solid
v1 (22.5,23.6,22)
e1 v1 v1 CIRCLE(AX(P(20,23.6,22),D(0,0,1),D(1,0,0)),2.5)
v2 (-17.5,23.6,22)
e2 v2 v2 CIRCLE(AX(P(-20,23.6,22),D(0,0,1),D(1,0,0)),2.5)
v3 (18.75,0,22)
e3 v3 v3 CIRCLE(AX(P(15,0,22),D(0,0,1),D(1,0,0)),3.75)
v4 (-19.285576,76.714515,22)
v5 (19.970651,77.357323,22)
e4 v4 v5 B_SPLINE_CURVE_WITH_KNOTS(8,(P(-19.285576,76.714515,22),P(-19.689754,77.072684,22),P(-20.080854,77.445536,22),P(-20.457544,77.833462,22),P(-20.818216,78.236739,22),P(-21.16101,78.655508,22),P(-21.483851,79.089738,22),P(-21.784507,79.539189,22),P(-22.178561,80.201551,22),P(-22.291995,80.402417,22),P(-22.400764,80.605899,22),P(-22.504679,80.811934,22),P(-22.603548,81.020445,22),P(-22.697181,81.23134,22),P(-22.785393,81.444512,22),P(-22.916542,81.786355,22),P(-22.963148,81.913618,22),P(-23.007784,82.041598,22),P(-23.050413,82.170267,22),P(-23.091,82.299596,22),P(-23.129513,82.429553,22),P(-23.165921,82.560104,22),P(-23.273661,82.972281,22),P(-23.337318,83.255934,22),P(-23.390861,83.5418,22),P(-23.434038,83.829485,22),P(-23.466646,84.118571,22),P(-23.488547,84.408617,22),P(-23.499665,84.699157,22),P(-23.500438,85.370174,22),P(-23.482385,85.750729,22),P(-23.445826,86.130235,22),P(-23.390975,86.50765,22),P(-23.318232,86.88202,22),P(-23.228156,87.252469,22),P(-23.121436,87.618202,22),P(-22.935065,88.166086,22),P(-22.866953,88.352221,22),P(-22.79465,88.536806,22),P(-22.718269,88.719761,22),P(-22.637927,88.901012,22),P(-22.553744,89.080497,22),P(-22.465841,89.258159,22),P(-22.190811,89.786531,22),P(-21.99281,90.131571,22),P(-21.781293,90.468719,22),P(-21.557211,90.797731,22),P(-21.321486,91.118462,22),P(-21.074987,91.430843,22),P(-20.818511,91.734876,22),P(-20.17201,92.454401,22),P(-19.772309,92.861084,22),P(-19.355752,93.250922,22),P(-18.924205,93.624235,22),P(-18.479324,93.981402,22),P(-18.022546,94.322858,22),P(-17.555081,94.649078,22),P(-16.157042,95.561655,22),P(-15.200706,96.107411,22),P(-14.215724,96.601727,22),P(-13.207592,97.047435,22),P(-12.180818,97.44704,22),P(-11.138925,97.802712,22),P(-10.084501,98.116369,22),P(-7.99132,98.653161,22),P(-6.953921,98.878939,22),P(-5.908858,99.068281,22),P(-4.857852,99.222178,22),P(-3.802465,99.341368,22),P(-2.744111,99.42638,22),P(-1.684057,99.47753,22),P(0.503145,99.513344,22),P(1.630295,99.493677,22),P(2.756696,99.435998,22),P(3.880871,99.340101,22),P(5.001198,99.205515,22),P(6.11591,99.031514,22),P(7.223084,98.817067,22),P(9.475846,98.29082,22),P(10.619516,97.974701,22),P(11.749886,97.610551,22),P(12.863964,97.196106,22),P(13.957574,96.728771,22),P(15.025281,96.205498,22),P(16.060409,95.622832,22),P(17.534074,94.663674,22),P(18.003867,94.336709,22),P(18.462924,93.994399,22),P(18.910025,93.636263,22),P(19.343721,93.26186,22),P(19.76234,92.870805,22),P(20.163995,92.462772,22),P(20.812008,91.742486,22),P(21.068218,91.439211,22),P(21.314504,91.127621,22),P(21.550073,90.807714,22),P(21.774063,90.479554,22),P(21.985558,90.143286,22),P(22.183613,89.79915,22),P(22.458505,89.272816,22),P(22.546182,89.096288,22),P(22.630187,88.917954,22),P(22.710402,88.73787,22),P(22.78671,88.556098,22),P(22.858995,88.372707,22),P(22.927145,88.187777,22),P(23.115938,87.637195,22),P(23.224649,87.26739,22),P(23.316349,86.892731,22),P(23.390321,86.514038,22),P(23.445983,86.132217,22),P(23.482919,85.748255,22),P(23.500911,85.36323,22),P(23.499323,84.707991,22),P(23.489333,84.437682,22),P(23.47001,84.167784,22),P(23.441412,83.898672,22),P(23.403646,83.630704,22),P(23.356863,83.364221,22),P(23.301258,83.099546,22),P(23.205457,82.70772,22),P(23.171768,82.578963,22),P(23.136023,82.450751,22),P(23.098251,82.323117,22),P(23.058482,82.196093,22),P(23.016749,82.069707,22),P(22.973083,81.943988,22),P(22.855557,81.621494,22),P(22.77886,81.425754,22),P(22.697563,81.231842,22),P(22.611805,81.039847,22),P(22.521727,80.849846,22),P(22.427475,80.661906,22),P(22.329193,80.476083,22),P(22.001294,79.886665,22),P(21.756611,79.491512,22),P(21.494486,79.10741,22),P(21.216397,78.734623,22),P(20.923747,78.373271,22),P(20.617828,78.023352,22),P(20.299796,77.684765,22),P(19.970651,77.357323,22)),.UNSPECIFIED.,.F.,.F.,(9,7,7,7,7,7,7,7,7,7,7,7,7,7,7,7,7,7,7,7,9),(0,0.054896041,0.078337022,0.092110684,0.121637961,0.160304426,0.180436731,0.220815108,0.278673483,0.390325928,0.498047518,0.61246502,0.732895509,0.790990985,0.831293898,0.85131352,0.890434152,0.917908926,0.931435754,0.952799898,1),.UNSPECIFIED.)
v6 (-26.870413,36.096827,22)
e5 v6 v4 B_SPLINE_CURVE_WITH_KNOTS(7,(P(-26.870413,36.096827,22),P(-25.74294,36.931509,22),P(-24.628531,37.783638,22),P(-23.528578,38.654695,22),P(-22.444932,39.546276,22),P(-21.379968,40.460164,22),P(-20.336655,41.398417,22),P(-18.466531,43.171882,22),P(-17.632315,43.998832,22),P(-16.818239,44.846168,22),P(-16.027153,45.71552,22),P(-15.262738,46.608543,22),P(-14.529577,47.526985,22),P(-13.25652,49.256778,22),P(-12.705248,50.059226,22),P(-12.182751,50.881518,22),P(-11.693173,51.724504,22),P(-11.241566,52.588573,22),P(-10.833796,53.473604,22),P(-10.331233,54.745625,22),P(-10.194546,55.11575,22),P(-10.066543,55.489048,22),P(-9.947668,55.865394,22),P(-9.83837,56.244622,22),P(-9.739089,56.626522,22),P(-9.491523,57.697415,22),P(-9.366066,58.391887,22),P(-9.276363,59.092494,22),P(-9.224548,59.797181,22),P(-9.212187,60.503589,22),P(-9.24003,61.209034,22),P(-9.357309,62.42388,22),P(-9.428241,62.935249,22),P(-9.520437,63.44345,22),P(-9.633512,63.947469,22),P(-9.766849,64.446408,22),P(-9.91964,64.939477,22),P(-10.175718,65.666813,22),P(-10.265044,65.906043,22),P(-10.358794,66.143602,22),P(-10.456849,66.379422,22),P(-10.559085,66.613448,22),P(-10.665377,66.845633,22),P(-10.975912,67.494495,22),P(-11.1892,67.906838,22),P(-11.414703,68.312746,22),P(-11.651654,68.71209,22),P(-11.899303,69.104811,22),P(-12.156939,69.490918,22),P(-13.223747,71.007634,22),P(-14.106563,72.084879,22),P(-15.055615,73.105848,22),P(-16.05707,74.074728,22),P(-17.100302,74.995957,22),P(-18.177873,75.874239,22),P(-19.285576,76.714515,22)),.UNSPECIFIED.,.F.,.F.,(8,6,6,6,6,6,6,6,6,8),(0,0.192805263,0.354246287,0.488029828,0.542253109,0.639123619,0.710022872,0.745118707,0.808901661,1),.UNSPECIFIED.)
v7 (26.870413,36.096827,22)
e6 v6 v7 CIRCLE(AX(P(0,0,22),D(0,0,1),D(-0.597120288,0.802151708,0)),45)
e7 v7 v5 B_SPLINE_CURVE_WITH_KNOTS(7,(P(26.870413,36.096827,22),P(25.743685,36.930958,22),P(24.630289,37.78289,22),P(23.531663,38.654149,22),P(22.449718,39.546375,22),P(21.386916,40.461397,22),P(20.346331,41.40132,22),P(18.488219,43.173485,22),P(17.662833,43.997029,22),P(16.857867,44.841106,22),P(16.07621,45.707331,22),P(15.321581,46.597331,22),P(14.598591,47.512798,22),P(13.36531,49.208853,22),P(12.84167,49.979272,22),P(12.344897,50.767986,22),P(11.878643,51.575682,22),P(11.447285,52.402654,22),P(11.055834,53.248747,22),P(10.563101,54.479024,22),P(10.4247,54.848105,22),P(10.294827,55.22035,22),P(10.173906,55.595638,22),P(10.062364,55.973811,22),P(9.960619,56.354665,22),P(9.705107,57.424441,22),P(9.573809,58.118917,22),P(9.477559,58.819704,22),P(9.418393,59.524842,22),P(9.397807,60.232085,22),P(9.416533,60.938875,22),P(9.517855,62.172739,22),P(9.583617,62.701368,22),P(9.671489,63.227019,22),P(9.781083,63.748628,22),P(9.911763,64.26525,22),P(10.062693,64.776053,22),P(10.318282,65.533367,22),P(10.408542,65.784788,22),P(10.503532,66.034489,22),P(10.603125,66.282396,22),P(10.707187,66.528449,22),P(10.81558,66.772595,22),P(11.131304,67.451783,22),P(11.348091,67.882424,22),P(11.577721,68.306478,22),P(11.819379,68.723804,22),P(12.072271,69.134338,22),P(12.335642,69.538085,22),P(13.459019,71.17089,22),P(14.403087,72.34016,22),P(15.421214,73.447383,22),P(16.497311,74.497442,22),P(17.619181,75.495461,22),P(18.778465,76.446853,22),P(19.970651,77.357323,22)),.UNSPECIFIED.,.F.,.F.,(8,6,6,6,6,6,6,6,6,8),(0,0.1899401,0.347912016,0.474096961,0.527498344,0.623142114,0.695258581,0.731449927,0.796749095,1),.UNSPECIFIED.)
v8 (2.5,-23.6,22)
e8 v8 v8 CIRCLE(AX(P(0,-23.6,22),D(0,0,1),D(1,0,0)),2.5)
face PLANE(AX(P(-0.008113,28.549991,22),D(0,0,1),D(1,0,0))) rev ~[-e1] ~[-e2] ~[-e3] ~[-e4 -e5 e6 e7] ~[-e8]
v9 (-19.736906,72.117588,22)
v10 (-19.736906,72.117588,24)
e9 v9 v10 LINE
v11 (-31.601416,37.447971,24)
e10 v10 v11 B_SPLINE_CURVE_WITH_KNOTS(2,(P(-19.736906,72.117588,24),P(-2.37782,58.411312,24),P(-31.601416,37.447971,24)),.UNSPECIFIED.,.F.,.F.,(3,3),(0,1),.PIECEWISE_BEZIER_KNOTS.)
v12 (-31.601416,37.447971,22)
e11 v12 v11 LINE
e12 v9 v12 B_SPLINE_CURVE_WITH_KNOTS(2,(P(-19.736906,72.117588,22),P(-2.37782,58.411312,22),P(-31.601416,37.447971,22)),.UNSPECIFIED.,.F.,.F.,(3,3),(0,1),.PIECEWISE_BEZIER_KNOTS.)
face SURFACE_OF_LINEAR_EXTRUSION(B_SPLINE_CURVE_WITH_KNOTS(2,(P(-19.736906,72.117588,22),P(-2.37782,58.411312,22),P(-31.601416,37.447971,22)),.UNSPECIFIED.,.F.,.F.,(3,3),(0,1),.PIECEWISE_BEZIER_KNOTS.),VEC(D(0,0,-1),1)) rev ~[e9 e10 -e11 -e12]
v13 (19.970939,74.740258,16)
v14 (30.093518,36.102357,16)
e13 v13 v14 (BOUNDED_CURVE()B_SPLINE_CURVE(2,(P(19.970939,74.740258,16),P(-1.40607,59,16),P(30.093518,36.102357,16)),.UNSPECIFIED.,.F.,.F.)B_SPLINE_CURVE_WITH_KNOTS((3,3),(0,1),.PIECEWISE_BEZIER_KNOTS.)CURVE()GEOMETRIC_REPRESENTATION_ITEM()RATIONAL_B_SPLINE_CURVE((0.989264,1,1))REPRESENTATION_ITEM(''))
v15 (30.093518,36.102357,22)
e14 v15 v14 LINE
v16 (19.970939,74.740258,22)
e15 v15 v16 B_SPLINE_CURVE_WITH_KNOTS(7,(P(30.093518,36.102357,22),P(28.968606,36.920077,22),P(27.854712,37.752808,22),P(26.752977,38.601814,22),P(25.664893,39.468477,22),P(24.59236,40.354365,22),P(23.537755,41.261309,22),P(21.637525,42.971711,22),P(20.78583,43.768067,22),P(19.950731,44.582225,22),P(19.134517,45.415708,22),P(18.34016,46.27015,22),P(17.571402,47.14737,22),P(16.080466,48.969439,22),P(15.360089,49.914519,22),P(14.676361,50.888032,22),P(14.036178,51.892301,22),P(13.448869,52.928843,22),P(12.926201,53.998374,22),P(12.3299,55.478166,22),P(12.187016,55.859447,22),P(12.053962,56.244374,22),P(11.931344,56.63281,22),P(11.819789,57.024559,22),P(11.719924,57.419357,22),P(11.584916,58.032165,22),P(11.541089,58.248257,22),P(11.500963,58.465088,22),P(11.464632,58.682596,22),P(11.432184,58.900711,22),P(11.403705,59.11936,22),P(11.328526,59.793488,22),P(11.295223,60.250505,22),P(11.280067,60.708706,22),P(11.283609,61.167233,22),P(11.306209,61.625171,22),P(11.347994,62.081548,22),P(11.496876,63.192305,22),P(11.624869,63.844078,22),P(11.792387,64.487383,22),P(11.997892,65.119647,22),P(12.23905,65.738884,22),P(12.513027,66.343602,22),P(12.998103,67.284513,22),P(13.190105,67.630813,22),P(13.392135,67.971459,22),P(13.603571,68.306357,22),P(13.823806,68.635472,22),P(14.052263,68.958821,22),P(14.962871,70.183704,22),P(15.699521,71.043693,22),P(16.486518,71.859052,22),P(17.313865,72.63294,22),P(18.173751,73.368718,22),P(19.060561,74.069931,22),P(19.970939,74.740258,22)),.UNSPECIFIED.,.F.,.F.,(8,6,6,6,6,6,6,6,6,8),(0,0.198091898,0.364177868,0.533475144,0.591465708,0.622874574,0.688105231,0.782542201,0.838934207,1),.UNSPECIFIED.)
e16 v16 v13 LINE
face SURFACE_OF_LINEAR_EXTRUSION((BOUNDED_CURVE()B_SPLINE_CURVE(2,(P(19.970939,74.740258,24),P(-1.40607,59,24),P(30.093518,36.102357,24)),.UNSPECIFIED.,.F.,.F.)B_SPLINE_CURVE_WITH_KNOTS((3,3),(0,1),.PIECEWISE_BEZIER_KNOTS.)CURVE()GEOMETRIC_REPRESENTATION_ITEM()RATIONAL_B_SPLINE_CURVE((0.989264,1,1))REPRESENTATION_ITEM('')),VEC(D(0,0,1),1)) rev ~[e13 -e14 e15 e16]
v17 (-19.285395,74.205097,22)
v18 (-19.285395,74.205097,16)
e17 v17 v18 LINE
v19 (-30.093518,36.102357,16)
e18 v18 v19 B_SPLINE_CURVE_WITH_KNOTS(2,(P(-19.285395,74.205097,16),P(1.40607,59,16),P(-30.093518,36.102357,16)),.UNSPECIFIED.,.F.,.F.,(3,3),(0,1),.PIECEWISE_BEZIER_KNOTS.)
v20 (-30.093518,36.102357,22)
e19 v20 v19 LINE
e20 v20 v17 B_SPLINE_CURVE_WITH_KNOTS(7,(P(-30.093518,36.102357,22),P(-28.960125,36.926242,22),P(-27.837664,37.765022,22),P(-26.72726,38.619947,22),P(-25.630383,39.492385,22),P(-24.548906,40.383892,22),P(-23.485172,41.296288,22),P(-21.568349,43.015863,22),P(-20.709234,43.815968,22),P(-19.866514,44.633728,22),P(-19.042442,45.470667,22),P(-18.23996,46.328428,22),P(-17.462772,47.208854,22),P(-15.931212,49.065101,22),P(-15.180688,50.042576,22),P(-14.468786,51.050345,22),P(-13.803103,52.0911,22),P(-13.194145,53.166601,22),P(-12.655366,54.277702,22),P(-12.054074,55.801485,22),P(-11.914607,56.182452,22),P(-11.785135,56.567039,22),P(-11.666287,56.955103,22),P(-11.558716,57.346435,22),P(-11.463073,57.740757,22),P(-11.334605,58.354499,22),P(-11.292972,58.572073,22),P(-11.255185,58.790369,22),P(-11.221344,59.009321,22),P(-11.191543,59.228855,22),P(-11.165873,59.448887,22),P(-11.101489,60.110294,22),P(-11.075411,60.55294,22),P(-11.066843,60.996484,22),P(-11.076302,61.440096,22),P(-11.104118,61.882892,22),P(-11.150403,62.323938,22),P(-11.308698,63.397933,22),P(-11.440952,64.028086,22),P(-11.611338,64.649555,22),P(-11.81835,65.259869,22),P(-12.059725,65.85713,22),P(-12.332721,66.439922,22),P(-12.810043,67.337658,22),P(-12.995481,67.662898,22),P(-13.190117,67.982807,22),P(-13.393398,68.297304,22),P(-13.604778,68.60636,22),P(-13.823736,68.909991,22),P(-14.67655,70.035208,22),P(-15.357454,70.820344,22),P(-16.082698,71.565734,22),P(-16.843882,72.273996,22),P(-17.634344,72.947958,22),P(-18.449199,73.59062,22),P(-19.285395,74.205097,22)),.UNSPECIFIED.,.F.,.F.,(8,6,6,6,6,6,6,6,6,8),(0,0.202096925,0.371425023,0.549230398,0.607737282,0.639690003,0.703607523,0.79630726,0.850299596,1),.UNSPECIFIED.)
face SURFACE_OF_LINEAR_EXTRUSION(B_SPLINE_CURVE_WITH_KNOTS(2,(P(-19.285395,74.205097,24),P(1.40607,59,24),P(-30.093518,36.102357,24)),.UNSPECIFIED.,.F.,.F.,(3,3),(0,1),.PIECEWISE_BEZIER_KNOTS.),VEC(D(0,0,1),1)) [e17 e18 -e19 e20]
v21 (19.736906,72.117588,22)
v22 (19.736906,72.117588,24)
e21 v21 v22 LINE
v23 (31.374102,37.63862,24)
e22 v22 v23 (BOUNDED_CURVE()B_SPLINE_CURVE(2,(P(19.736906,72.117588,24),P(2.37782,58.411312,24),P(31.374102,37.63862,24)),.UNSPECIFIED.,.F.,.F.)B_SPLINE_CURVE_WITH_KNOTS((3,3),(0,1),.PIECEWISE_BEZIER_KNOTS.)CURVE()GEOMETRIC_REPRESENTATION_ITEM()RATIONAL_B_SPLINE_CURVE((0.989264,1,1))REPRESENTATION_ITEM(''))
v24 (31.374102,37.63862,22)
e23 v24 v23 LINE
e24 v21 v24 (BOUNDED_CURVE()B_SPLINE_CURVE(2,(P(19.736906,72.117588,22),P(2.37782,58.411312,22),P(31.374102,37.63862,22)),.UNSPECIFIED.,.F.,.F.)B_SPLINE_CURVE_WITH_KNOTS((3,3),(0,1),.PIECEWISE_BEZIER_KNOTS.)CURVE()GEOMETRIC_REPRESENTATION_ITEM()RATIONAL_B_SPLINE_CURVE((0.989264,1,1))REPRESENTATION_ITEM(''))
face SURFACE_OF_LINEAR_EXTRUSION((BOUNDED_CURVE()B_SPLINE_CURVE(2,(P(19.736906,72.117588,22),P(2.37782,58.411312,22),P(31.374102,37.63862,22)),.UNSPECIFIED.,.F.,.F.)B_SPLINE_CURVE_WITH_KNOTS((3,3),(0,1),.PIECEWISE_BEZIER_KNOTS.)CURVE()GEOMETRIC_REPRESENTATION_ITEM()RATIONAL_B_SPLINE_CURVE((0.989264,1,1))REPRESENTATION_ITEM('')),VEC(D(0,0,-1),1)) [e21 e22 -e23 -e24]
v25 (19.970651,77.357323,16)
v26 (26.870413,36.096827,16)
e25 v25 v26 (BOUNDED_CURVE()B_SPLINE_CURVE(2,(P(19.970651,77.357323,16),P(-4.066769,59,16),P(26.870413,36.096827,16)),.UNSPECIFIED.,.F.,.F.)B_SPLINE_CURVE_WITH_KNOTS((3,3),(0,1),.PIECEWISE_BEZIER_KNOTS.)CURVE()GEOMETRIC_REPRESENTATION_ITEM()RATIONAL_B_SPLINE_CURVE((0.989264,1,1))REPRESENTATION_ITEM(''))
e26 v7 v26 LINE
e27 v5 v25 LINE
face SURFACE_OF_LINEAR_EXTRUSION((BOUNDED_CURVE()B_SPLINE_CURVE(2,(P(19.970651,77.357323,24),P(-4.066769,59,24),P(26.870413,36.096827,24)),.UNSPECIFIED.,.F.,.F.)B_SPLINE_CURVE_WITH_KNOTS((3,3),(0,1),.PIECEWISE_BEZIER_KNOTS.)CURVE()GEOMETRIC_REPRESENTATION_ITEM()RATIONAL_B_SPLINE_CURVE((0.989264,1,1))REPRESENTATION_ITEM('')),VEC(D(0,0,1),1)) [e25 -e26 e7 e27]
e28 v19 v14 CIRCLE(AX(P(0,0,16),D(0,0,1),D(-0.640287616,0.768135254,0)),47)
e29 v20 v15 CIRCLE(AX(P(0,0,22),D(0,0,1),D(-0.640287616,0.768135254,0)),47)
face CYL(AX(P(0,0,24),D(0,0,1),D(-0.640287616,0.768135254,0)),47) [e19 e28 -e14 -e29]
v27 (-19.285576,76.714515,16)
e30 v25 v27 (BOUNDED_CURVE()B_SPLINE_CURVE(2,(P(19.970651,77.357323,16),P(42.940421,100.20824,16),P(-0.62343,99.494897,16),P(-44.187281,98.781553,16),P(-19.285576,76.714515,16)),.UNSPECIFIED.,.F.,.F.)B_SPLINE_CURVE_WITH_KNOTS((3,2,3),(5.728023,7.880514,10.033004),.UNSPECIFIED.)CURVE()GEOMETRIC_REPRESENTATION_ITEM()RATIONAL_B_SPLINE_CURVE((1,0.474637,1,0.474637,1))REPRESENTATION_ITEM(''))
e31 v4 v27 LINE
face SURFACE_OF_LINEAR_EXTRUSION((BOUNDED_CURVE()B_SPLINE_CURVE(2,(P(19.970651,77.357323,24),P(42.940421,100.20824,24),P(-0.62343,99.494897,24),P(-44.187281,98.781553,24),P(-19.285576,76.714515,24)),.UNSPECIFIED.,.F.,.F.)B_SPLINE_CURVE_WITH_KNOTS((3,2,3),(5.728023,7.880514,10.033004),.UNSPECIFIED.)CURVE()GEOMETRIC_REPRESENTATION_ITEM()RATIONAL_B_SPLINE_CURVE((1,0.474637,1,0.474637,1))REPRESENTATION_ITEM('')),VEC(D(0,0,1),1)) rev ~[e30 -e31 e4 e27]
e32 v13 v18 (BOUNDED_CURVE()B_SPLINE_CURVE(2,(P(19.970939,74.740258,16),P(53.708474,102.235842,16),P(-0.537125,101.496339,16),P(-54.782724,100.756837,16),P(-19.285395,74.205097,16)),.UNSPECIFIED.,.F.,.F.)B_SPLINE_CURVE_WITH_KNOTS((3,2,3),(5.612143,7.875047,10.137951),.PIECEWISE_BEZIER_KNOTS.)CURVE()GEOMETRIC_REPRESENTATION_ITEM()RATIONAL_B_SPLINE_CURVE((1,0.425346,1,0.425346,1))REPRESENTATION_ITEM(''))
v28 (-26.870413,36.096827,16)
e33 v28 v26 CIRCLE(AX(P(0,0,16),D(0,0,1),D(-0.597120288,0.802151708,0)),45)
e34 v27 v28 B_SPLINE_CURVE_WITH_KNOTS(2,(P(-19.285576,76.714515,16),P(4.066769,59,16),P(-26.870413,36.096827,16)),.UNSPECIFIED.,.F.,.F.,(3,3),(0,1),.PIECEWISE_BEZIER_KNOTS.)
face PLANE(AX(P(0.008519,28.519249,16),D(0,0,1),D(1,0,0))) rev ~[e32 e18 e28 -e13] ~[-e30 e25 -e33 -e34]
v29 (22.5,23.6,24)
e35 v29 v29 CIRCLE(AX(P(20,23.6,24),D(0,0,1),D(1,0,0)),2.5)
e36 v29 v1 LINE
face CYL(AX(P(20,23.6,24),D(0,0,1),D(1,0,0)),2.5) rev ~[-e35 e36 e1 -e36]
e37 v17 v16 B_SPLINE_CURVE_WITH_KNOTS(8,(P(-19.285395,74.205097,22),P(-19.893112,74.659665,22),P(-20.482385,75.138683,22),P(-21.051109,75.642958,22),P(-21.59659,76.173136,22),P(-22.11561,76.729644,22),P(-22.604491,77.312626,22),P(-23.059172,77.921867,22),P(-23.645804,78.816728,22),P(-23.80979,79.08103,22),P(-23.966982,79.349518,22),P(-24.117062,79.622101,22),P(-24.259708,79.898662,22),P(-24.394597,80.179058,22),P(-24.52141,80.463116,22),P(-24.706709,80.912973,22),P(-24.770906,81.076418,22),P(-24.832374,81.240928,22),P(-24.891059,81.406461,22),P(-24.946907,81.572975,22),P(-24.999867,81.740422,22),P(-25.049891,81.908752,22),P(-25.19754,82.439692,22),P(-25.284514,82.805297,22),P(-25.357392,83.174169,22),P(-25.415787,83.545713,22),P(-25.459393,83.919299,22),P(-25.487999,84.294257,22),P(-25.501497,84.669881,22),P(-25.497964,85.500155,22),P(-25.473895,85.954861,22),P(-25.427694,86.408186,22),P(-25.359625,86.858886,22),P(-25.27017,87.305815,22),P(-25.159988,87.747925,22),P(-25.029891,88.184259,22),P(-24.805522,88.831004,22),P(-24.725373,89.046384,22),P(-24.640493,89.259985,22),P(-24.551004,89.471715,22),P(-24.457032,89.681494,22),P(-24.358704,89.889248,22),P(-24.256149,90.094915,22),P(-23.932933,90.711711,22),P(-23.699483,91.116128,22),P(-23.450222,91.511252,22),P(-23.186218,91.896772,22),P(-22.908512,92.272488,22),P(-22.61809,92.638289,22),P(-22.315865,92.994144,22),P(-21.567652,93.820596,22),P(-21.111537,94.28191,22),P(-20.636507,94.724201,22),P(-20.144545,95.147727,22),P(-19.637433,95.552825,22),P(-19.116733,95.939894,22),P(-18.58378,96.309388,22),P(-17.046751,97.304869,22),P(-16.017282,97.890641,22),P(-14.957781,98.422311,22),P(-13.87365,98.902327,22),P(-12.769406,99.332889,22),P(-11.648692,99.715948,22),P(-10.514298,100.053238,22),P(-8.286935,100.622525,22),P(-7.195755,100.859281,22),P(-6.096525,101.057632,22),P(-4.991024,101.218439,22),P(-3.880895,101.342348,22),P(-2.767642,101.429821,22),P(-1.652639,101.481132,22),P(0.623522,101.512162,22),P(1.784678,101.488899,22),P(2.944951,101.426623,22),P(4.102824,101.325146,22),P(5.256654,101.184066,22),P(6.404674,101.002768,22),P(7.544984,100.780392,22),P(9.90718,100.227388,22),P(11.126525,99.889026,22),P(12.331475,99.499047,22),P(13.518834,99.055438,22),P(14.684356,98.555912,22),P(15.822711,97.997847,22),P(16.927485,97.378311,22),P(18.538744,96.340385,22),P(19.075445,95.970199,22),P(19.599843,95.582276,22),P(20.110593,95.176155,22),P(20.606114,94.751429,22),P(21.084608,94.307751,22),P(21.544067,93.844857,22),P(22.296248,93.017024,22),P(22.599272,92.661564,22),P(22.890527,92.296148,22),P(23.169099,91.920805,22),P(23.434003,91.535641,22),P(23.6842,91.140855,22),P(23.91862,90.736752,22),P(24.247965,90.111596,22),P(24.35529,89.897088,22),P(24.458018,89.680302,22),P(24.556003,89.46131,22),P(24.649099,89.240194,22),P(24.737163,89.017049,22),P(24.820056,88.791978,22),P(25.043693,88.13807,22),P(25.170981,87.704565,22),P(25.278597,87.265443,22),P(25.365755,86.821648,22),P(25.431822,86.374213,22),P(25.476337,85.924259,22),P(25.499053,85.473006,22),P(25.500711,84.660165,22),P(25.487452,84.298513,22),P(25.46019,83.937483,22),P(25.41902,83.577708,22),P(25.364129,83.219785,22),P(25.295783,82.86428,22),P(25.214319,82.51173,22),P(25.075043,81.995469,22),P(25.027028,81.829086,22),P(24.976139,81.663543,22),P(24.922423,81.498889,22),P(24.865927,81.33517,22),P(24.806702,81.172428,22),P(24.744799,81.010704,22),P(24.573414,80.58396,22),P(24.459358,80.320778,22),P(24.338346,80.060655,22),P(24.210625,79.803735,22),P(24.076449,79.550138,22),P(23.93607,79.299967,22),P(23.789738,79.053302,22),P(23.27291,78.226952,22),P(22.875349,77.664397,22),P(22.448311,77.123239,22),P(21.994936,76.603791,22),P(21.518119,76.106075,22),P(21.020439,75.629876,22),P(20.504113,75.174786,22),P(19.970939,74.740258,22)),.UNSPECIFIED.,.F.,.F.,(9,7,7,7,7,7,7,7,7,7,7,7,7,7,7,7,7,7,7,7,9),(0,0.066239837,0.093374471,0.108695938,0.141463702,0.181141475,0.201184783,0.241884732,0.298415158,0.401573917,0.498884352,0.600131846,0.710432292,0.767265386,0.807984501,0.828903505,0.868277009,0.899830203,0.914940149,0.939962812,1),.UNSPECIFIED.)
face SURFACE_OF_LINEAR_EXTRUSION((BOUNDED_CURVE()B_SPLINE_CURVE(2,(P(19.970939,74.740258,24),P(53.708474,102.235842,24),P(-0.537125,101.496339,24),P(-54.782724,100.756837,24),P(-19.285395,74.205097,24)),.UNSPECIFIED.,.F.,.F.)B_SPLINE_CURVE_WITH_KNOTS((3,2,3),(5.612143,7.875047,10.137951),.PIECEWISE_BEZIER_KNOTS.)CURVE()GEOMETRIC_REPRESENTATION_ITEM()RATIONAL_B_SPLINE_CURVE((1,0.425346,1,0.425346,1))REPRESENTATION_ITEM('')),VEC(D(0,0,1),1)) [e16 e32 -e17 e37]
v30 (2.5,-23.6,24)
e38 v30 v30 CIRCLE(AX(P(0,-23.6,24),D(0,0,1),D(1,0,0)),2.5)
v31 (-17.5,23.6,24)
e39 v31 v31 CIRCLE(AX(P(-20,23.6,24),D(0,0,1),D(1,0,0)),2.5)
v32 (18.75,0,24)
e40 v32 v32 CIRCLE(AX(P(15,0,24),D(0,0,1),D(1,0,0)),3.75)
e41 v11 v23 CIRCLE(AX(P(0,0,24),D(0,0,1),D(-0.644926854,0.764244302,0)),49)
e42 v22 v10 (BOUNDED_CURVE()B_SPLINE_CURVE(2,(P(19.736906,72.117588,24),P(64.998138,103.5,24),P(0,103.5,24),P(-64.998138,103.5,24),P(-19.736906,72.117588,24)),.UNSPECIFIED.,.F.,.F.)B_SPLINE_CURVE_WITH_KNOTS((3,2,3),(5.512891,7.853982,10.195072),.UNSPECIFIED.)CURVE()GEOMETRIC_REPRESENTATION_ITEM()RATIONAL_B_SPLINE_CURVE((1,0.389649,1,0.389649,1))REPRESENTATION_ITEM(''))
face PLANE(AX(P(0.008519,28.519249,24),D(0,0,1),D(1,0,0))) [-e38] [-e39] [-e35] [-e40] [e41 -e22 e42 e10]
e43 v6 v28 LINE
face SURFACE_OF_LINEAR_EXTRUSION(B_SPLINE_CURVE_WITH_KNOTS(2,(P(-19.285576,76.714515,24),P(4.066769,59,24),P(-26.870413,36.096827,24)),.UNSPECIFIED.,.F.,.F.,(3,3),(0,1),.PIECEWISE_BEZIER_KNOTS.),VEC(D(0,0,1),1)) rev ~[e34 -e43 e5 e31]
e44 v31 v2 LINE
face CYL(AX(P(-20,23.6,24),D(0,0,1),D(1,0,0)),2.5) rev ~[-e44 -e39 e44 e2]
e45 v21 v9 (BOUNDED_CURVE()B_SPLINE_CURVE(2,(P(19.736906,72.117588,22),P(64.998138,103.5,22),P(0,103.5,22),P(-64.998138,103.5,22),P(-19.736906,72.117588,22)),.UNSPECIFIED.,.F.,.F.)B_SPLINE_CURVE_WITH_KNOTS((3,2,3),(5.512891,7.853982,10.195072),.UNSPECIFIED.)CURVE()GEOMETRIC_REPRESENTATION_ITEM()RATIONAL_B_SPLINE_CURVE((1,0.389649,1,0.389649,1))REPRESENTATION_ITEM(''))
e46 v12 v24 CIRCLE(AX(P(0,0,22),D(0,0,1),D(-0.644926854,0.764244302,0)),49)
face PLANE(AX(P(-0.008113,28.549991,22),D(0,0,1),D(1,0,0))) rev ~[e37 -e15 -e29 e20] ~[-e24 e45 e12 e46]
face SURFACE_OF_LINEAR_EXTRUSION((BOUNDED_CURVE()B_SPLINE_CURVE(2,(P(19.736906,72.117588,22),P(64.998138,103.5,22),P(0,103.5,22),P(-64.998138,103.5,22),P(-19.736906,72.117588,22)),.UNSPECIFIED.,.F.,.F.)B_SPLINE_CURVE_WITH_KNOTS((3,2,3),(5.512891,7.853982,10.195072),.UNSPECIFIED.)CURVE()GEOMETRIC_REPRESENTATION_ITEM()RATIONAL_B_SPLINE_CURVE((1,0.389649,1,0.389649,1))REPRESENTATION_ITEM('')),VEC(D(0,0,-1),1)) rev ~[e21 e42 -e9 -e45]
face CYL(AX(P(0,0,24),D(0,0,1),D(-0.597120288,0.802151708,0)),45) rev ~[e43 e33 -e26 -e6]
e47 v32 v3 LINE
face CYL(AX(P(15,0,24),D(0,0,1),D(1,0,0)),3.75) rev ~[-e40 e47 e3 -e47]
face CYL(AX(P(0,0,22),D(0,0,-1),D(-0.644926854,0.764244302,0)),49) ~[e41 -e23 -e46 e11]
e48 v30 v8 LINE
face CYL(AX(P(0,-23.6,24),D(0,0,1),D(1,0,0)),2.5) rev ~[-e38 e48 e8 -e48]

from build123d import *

# Parameters (mm, degrees)
PAD006_DEPTH    = 2
PAD007_DEPTH    = 8
SKETCH016_R     = 2.5
SKETCH016_R_2   = 3.75
POCKET003_DEPTH = 8.001


with BuildPart() as part:
    # Sketch013 → Pad006 (new body)
    with BuildSketch(Plane.XY):
        with BuildLine():
            ThreePointArc((-31.601416, 37.447971), (0.14834, -48.999775), (31.374102, 37.63862))
            add(Edge.make_bspline(
                [(19.736906, 72.117588), (2.37782, 58.411312), (31.374102, 37.63862)],
                knots=[0, 0, 0, 1, 1, 1], degree=2, weights=[0.989264, 1, 1]))
            add(Edge.make_bspline(
                [(19.736906, 72.117588), (64.998138, 103.5), (0, 103.5), (-64.998138, 103.5), (-19.736906, 72.117588)],
                knots=[5.512891, 5.512891, 5.512891, 7.853982, 7.853982, 10.195072, 10.195072, 10.195072], degree=2, weights=[1, 0.389649, 1, 0.389649, 1]))
            add(Edge.make_bspline(
                [(-19.736906, 72.117588), (-2.37782, 58.411312), (-31.601416, 37.447971)],
                knots=[0, 0, 0, 1, 1, 1], degree=2))
        make_face()
    extrude(amount=PAD006_DEPTH)

    # Sketch017 → Pad007 (join)
    with BuildSketch(Plane.XY.offset(2)):
        with BuildLine():
            add(Edge.make_bspline(
                [(19.970939, 74.740258), (53.708474, 102.235842), (-0.537125, 101.496339), (-54.782724, 100.756837), (-19.285395, 74.205097)],
                knots=[5.612143, 5.612143, 5.612143, 7.875047, 7.875047, 10.137951, 10.137951, 10.137951], degree=2, weights=[1, 0.425346, 1, 0.425346, 1]))
            add(Edge.make_bspline(
                [(-19.285395, 74.205097), (1.40607, 59), (-30.093518, 36.102357)],
                knots=[0, 0, 0, 1, 1, 1], degree=2))
            ThreePointArc((-30.093518, 36.102357), (0, -47), (30.093518, 36.102357))
            add(Edge.make_bspline(
                [(19.970939, 74.740258), (-1.40607, 59), (30.093518, 36.102357)],
                knots=[0, 0, 0, 1, 1, 1], degree=2, weights=[0.989264, 1, 1]))
        make_face()
        with BuildLine():
            add(Edge.make_bspline(
                [(19.970651, 77.357323), (42.940421, 100.20824), (-0.62343, 99.494897), (-44.187281, 98.781553), (-19.285576, 76.714515)],
                knots=[5.728023, 5.728023, 5.728023, 7.880514, 7.880514, 10.033004, 10.033004, 10.033004], degree=2, weights=[1, 0.474637, 1, 0.474637, 1]))
            add(Edge.make_bspline(
                [(-19.285576, 76.714515), (4.066769, 59), (-26.870413, 36.096827)],
                knots=[0, 0, 0, 1, 1, 1], degree=2))
            ThreePointArc((-26.870413, 36.096827), (0, -45), (26.870413, 36.096827))
            add(Edge.make_bspline(
                [(19.970651, 77.357323), (-4.066769, 59), (26.870413, 36.096827)],
                knots=[0, 0, 0, 1, 1, 1], degree=2, weights=[0.989264, 1, 1]))
        make_face(mode=Mode.SUBTRACT)
    extrude(amount=-PAD007_DEPTH)

    # Sketch016 → Pocket003 (cut, through all)
    with BuildSketch(Plane.XY.offset(2)):
        with Locations((0, -23.6)):
            Circle(SKETCH016_R)
        with Locations((-20, 23.6)):
            Circle(SKETCH016_R)
        with Locations((20, 23.6)):
            Circle(SKETCH016_R)
        with Locations((15, 0)):
            Circle(SKETCH016_R_2)
    extrude(amount=-POCKET003_DEPTH, mode=Mode.SUBTRACT)


with BuildPart() as part_1:
    # Body003 placement: moved
    add(part.part.moved(Location((0, 0, 22))))


solid = part_1.part
